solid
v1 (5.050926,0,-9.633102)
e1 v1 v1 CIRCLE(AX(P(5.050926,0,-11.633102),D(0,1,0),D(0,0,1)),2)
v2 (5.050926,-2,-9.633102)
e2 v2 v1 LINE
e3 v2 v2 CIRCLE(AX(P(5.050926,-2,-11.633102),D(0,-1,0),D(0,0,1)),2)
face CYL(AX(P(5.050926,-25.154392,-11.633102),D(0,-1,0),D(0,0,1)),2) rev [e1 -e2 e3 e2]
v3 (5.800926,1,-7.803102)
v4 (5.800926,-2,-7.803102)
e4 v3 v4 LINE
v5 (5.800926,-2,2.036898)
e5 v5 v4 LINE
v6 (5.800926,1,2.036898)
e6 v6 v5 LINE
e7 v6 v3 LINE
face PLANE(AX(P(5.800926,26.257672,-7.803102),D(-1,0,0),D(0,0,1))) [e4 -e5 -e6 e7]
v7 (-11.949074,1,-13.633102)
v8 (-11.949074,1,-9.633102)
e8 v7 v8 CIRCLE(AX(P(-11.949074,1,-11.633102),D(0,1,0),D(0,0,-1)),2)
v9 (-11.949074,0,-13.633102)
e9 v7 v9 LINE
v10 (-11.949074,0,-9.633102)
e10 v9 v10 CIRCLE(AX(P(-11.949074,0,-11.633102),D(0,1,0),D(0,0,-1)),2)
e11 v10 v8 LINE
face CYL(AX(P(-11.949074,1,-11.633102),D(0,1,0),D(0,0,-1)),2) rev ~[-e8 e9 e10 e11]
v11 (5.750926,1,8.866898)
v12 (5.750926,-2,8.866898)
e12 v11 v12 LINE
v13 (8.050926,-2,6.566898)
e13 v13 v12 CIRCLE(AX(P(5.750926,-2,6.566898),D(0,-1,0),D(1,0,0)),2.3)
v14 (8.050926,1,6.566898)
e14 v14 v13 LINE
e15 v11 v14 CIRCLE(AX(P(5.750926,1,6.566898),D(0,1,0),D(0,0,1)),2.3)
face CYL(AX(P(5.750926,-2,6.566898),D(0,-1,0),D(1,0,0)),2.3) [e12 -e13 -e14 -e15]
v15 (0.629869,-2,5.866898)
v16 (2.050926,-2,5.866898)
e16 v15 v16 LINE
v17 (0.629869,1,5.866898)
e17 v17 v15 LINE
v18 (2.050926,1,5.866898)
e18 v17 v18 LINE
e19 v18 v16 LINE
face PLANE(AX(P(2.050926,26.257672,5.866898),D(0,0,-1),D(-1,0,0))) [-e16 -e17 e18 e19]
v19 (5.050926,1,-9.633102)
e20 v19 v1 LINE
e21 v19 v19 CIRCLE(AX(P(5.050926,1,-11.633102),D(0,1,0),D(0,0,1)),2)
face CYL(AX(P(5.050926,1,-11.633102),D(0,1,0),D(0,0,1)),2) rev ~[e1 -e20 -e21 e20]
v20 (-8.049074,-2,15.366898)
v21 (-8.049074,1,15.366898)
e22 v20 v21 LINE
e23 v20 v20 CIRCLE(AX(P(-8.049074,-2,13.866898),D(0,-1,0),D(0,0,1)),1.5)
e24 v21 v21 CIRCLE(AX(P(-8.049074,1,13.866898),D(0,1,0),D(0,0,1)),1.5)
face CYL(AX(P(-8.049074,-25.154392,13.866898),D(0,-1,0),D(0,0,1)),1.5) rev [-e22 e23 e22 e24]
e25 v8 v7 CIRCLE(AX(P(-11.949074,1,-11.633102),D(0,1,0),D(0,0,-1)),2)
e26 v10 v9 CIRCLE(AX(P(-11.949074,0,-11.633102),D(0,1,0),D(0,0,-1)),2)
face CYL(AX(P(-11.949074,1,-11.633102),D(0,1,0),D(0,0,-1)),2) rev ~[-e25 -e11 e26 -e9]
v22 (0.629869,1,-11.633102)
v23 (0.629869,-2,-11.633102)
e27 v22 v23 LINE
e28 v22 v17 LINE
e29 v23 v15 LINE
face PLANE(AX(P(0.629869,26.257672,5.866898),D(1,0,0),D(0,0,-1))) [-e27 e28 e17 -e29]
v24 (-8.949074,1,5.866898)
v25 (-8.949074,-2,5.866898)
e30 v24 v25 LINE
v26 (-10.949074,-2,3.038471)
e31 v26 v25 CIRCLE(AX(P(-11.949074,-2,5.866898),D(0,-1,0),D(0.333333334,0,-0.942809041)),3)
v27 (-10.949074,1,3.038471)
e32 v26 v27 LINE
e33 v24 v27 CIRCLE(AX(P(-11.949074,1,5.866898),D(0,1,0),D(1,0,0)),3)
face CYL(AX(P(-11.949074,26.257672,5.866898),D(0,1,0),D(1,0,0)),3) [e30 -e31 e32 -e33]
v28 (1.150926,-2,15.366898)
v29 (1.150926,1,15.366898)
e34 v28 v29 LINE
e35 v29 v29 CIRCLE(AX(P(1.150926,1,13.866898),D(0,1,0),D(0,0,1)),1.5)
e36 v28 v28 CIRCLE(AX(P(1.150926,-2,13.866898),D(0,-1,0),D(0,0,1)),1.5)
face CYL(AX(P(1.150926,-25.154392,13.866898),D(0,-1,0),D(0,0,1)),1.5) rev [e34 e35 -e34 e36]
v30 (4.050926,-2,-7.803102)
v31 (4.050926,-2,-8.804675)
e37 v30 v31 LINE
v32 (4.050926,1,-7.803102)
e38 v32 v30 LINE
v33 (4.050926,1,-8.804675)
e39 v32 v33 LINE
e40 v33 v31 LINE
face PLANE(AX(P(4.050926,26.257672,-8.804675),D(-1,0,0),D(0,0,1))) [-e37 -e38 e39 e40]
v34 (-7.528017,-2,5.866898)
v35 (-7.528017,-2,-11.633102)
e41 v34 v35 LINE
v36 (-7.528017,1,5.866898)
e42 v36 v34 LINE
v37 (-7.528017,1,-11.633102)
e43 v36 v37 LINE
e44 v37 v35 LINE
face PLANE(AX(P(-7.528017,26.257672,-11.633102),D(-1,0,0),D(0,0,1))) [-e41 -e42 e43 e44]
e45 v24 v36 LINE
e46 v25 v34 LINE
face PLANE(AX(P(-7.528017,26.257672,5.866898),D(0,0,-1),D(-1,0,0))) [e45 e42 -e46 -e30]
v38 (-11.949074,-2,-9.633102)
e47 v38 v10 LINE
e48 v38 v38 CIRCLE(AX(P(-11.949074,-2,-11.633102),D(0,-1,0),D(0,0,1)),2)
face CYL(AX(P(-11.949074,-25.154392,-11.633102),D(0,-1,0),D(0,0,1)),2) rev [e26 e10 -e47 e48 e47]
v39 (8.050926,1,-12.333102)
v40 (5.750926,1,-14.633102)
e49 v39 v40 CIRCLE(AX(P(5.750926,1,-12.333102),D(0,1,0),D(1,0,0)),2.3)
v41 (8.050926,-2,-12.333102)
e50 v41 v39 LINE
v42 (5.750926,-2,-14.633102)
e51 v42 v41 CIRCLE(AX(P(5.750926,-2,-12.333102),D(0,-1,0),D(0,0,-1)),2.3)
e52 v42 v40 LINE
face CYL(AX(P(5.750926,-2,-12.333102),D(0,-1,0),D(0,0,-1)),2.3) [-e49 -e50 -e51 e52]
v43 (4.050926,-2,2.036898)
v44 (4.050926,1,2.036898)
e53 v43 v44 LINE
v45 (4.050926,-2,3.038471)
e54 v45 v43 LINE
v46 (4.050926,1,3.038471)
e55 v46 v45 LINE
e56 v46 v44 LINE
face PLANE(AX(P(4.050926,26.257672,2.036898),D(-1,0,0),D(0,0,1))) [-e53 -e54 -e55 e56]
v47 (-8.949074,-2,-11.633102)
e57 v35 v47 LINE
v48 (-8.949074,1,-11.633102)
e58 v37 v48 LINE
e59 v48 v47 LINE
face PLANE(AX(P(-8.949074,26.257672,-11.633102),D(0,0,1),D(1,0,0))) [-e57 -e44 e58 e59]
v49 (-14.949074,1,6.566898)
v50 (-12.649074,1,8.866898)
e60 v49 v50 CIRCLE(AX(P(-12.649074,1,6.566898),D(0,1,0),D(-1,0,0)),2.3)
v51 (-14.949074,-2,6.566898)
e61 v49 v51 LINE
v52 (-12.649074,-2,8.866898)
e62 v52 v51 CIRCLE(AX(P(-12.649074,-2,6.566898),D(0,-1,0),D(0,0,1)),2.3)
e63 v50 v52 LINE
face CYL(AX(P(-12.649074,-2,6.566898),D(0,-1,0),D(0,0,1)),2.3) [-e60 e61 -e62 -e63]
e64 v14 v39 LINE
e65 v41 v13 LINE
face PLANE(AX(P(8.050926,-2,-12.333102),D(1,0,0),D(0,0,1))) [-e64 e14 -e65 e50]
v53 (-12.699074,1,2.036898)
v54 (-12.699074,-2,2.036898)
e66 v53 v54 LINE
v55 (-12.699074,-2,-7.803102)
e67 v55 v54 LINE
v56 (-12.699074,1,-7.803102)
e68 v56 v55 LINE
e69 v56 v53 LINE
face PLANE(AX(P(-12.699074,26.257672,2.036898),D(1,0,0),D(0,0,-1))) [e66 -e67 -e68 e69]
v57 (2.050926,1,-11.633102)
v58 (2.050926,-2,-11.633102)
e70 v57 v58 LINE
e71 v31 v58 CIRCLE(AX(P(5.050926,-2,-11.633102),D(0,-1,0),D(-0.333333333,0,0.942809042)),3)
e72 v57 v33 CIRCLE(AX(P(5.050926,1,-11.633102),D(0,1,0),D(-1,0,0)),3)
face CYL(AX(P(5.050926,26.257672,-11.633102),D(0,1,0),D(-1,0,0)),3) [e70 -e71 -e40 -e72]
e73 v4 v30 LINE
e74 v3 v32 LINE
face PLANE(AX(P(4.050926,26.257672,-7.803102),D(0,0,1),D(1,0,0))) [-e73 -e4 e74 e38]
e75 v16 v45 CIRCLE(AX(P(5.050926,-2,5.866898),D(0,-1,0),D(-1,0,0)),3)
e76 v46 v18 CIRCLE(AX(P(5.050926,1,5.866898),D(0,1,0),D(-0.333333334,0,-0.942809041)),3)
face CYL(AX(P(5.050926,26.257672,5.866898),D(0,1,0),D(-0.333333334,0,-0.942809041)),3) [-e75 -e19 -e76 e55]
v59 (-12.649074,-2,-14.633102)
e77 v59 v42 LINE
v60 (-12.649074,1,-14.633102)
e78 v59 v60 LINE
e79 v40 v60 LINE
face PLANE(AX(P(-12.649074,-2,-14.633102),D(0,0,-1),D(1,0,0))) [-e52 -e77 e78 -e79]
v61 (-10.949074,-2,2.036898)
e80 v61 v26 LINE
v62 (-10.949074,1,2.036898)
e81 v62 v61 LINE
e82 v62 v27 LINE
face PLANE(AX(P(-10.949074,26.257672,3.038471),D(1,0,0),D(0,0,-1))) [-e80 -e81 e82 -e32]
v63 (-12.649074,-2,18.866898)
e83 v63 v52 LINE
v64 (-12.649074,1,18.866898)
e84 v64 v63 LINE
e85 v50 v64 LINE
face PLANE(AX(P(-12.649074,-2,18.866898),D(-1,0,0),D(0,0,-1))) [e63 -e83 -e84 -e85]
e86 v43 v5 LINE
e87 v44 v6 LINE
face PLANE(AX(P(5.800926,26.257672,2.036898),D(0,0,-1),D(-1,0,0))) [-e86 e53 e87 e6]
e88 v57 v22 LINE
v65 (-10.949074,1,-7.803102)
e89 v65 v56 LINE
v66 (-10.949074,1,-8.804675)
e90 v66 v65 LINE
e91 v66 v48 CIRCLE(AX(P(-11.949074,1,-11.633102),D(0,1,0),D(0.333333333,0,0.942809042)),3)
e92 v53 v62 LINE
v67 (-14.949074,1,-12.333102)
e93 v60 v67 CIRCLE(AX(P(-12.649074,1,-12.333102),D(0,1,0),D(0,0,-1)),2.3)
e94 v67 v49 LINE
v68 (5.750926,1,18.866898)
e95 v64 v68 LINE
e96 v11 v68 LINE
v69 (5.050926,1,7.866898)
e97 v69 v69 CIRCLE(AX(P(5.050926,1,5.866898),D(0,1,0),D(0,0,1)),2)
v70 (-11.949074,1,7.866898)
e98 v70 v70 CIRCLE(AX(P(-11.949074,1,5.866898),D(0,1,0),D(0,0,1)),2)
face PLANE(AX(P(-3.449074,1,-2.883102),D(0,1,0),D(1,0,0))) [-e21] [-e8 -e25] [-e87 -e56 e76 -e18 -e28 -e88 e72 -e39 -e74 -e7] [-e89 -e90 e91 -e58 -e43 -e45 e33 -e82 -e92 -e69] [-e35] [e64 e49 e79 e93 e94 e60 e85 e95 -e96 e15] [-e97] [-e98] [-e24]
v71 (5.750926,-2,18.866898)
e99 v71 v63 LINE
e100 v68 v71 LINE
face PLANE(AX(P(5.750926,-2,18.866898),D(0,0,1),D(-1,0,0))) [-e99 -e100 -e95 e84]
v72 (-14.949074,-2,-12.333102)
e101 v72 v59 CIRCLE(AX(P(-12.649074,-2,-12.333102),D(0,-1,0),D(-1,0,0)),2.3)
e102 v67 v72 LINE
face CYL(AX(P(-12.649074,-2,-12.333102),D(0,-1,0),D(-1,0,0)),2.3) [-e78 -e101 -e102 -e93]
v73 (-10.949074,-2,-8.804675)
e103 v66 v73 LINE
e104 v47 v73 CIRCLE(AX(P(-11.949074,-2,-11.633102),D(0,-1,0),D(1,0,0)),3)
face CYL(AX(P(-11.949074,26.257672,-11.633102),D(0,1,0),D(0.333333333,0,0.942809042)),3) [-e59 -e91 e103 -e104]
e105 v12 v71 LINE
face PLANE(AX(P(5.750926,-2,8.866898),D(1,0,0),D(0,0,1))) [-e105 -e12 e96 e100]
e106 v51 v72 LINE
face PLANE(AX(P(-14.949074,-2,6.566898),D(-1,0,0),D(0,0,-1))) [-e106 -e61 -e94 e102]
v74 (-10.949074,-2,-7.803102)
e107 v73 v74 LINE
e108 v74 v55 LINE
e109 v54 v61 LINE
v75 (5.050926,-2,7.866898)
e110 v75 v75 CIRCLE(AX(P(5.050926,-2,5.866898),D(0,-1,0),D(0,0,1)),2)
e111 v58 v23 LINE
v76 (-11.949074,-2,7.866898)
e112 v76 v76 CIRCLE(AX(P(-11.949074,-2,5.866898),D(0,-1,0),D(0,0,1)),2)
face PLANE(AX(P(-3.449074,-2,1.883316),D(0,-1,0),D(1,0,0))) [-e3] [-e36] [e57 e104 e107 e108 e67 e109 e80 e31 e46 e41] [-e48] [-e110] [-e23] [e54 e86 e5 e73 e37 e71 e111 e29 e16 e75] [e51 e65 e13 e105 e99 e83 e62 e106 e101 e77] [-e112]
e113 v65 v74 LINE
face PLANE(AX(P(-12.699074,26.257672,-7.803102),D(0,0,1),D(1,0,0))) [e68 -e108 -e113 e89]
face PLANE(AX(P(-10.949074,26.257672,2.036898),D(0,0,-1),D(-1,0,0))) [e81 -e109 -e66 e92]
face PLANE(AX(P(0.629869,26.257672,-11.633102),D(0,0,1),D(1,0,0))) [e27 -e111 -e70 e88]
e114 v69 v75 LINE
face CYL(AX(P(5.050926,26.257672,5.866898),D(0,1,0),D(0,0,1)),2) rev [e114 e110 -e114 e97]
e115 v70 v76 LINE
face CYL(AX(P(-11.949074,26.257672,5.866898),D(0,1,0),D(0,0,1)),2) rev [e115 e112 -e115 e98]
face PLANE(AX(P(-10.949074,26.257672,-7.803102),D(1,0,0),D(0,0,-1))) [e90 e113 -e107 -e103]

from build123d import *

# Parameters (mm, degrees)
BOSS_EXTRUDE1_DEPTH      = 2
CUT_EXTRUDE2_DEPTH       = 1
SKETCH5_R                = 2
CUT_EXTRUDE3_DEPTH       = 21.942838525
CUT_EXTRUDE4_DEPTH       = 21.942838525
SKETCH7_W                = 18.4
SKETCH7_H                = 1
BOSS_EXTRUDE2_DEPTH      = 10
SKETCH8_R                = 1.5
CUT_EXTRUDE5_DEPTH       = 25.092211634
CUT_EXTRUDE6_DEPTH       = 1
SKETCH11_W               = 1.421057218
SKETCH11_H               = 17.5
SKETCH11_W_2             = 1.75
SKETCH11_H_2             = 9.84
CUT_EXTRUDE7_DEPTH       = 25.092211634
BOSS_EXTRUDE3_START      = 2
BOSS_EXTRUDE3_DEPTH      = 2
CUT_EXTRUDE8_DEPTH       = 25.154392176
CUT_EXTRUDE8_DEPTH_BACK  = 25.154392176
CUT_EXTRUDE9_DEPTH       = 25.154392176
CUT_EXTRUDE9_DEPTH_BACK  = 25.154392176
CUT_EXTRUDE10_DEPTH      = 25.154392176
CUT_EXTRUDE10_DEPTH_BACK = 25.154392176
SKETCH15_R               = 1.5
CUT_EXTRUDE11_DEPTH      = 25.154392176
CUT_EXTRUDE11_DEPTH_BACK = 25.154392176
SKETCH16_R               = 1.5
CUT_EXTRUDE12_DEPTH      = 25.154392176
CUT_EXTRUDE12_DEPTH_BACK = 25.154392176
SKETCH17_R               = 2
BOSS_EXTRUDE4_START      = 1
BOSS_EXTRUDE4_DEPTH      = 1
CUT_EXTRUDE13_DEPTH      = 25.257672217
CUT_EXTRUDE13_DEPTH_BACK = 25.257672217
SKETCH19_R               = 2
CUT_EXTRUDE14_START      = -1
CUT_EXTRUDE14_DEPTH      = 1


with BuildPart() as part:
    # Sketch1 → Boss-Extrude1 (new body)
    with BuildSketch(Plane(origin=(0, 0, 0), x_dir=(1, 0, 0), z_dir=(0, 1, 0))):
        with BuildLine():
            Line((-12.649074074, 14.633101852), (5.750925926, 14.633101852))
            ThreePointArc((5.750925926, 14.633101852), (7.377271523, 13.959447449), (8.050925926, 12.333101852))
            Line((8.050925926, 12.333101852), (8.050925926, -6.566898148))
            ThreePointArc((8.050925926, -6.566898148), (7.377271523, -8.193243745), (5.750925926, -8.866898148))
            Line((5.750925926, -8.866898148), (-12.649074074, -8.866898148))
            ThreePointArc((-12.649074074, -8.866898148), (-14.275419671, -8.193243745), (-14.949074074, -6.566898148))
            Line((-14.949074074, -6.566898148), (-14.949074074, 12.333101852))
            ThreePointArc((-14.949074074, 12.333101852), (-14.275419671, 13.959447449), (-12.649074074, 14.633101852))
        make_face()
    extrude(amount=BOSS_EXTRUDE1_DEPTH)

    # Sketch2 → Cut-Extrude2 (cut)
    with BuildSketch(Plane(origin=(0, 2, 0), x_dir=(1, 0, 0), z_dir=(0, 1, 0))):
        with BuildLine():
            Line((5.750925926, 13.633101852), (-12.649074074, 13.633101852))
            ThreePointArc((-12.649074074, 13.633101852), (-13.56831289, 13.252340667), (-13.949074074, 12.333101852))
            Line((-13.949074074, 12.333101852), (-13.949074074, -6.566898148))
            ThreePointArc((-13.949074074, -6.566898148), (-13.56831289, -7.486136964), (-12.649074074, -7.866898148))
            Line((-12.649074074, -7.866898148), (5.750925926, -7.866898148))
            ThreePointArc((5.750925926, -7.866898148), (6.670164741, -7.486136964), (7.050925926, -6.566898148))
            Line((7.050925926, -6.566898148), (7.050925926, 12.333101852))
            ThreePointArc((7.050925926, 12.333101852), (6.670164741, 13.252340667), (5.750925926, 13.633101852))
        make_face()
    extrude(amount=-CUT_EXTRUDE2_DEPTH, mode=Mode.SUBTRACT)

    # Sketch5 → Cut-Extrude3 (cut, through all)
    with BuildSketch(Plane(origin=(0, 1, 0), x_dir=(1, 0, 0), z_dir=(0, 1, 0))):
        with Locations(Location((5.050925926, 11.633101852, 0), (0, 0, 270))):
            Circle(SKETCH5_R)
        with Locations(Location((5.050925926, -5.866898148, 0), (0, 0, 270))):
            Circle(SKETCH5_R)
        with Locations(Location((-11.949074074, -5.866898148, 0), (0, 0, 270))):
            Circle(SKETCH5_R)
        with Locations(Location((-11.949074074, 11.633101852, 0), (0, 0, 90))):
            Circle(SKETCH5_R)
    extrude(amount=-CUT_EXTRUDE3_DEPTH, mode=Mode.SUBTRACT)

    # Sketch6 → Cut-Extrude4 (cut, through all)
    with BuildSketch(Plane(origin=(0, 1, 0), x_dir=(1, 0, 0), z_dir=(0, 1, 0))):
        with BuildLine():
            Line((4.050925926, -3.038471023), (4.050925926, 8.804674727))
            ThreePointArc((4.050925926, 8.804674727), (2.601436183, 9.901051044), (2.050925926, 11.633101852))
            Line((2.050925926, 11.633101852), (2.050925926, -5.866898148))
            ThreePointArc((2.050925926, -5.866898148), (2.601436183, -4.134847341), (4.050925926, -3.038471023))
        make_face()
        with BuildLine():
            Line((-10.949074074, 8.804674727), (-10.949074074, -3.038471023))
            ThreePointArc((-10.949074074, -3.038471023), (-9.499584331, -4.134847341), (-8.949074074, -5.866898148))
            Line((-8.949074074, -5.866898148), (-8.949074074, 11.633101852))
            ThreePointArc((-8.949074074, 11.633101852), (-9.499584331, 9.901051044), (-10.949074074, 8.804674727))
        make_face()
    extrude(amount=-CUT_EXTRUDE4_DEPTH, mode=Mode.SUBTRACT)

    # Sketch7 → Boss-Extrude2 (add)
    with BuildSketch(Plane.XY.offset(8.866898148)):
        with Locations((-3.449074074, 0.5)):
            Rectangle(SKETCH7_W, SKETCH7_H)
    extrude(amount=BOSS_EXTRUDE2_DEPTH)

    # Sketch8 → Cut-Extrude5 (cut, through all)
    with BuildSketch(Plane(origin=(0, 1, 0), x_dir=(1, 0, 0), z_dir=(0, 1, 0))):
        with Locations(Location((1.150925926, -13.866898148, 0), (0, 0, 270))):
            Circle(SKETCH8_R)
        with Locations(Location((-8.049074074, -13.866898148, 0), (0, 0, 270))):
            Circle(SKETCH8_R)
    extrude(amount=-CUT_EXTRUDE5_DEPTH, mode=Mode.SUBTRACT)

    # Sketch9 → Cut-Extrude6 (cut)
    with BuildSketch(Plane(origin=(0, 2, 0), x_dir=(1, 0, 0), z_dir=(0, 1, 0))):
        with BuildLine():
            Line((5.750925926, 13.833101852), (-12.649074074, 13.833101852))
            ThreePointArc((-12.649074074, 13.833101852), (-13.709734246, 13.393762024), (-14.149074074, 12.333101852))
            Line((-14.149074074, 12.333101852), (-14.149074074, -6.566898148))
            ThreePointArc((-14.149074074, -6.566898148), (-13.709734246, -7.62755832), (-12.649074074, -8.066898148))
            Line((-12.649074074, -8.066898148), (5.750925926, -8.066898148))
            ThreePointArc((5.750925926, -8.066898148), (6.811586098, -7.62755832), (7.250925926, -6.566898148))
            Line((7.250925926, -6.566898148), (7.250925926, 12.333101852))
            ThreePointArc((7.250925926, 12.333101852), (6.811586098, 13.393762024), (5.750925926, 13.833101852))
        make_face()
    extrude(amount=-CUT_EXTRUDE6_DEPTH, mode=Mode.SUBTRACT)

    # Sketch11 → Cut-Extrude7 (cut, through all)
    with BuildSketch(Plane(origin=(0, 1, 0), x_dir=(1, 0, 0), z_dir=(0, 1, 0))):
        with Locations((-8.238545465, 2.883101852)):
            Rectangle(SKETCH11_W, SKETCH11_H)
        with Locations((1.340397317, 2.883101852)):
            Rectangle(SKETCH11_W, SKETCH11_H)
        with Locations((-11.824074074, 2.883101852)):
            Rectangle(SKETCH11_W_2, SKETCH11_H_2)
        with Locations((4.925925926, 2.883101852)):
            Rectangle(SKETCH11_W_2, SKETCH11_H_2)
    extrude(amount=-CUT_EXTRUDE7_DEPTH, mode=Mode.SUBTRACT)

    # Sketch12 → Boss-Extrude3 (add)
    with BuildSketch(Plane.XZ.offset(BOSS_EXTRUDE3_START)):
        with BuildLine():
            Line((8.050925926, -12.333101852), (8.050925926, 6.566898148))
            ThreePointArc((8.050925926, 6.566898148), (7.377271523, 8.193243745), (5.750925926, 8.866898148))
            Line((5.750925926, 8.866898148), (5.750925926, 18.866898148))
            Line((5.750925926, 18.866898148), (-12.649074074, 18.866898148))
            Line((-12.649074074, 18.866898148), (-12.649074074, 8.866898148))
            ThreePointArc((-12.649074074, 8.866898148), (-14.275419671, 8.193243745), (-14.949074074, 6.566898148))
            Line((-14.949074074, 6.566898148), (-14.949074074, -12.333101852))
            ThreePointArc((-14.949074074, -12.333101852), (-14.275419671, -13.959447449), (-12.649074074, -14.633101852))
            Line((-12.649074074, -14.633101852), (5.750925926, -14.633101852))
            ThreePointArc((5.750925926, -14.633101852), (7.377271523, -13.959447449), (8.050925926, -12.333101852))
        make_face()
    extrude(amount=-BOSS_EXTRUDE3_DEPTH)

    # Sketch13 → Cut-Extrude8 (cut, two sides: drawn at the far end of the back side and taken through both)
    with BuildSketch(Plane(origin=(0, 0, 0), x_dir=(1, 0, 0), z_dir=(0, 1, 0)).offset(-CUT_EXTRUDE8_DEPTH_BACK)):
        with BuildLine():
            Line((-12.699074074, 7.803101852), (-12.699074074, -2.036898148))
            Line((-12.699074074, -2.036898148), (-10.949074074, -2.036898148))
            Line((-10.949074074, -2.036898148), (-10.949074074, -3.038471023))
            ThreePointArc((-10.949074074, -3.038471023), (-9.499584331, -4.134847341), (-8.949074074, -5.866898148))
            Line((-8.949074074, -5.866898148), (-7.528016856, -5.866898148))
            Line((-7.528016856, -5.866898148), (-7.528016856, 11.633101852))
            Line((-7.528016856, 11.633101852), (-8.949074074, 11.633101852))
            ThreePointArc((-8.949074074, 11.633101852), (-9.499584331, 9.901051044), (-10.949074074, 8.804674727))
            Line((-10.949074074, 8.804674727), (-10.949074074, 7.803101852))
            Line((-10.949074074, 7.803101852), (-12.699074074, 7.803101852))
        make_face()
    extrude(amount=CUT_EXTRUDE8_DEPTH + CUT_EXTRUDE8_DEPTH_BACK, mode=Mode.SUBTRACT)

    # Sketch14 → Cut-Extrude9 (cut, two sides: drawn at the far end of the back side and taken through both)
    with BuildSketch(Plane(origin=(0, 0, 0), x_dir=(1, 0, 0), z_dir=(0, 1, 0)).offset(-CUT_EXTRUDE9_DEPTH_BACK)):
        with BuildLine():
            Line((0.629868708, -5.866898148), (2.050925926, -5.866898148))
            ThreePointArc((2.050925926, -5.866898148), (2.601436183, -4.134847341), (4.050925926, -3.038471023))
            Line((4.050925926, -3.038471023), (4.050925926, -2.036898148))
            Line((4.050925926, -2.036898148), (5.800925926, -2.036898148))
            Line((5.800925926, -2.036898148), (5.800925926, 7.803101852))
            Line((5.800925926, 7.803101852), (4.050925926, 7.803101852))
            Line((4.050925926, 7.803101852), (4.050925926, 8.804674727))
            ThreePointArc((4.050925926, 8.804674727), (2.601436183, 9.901051044), (2.050925926, 11.633101852))
            Line((2.050925926, 11.633101852), (0.629868708, 11.633101852))
            Line((0.629868708, 11.633101852), (0.629868708, -5.866898148))
        make_face()
    extrude(amount=CUT_EXTRUDE9_DEPTH + CUT_EXTRUDE9_DEPTH_BACK, mode=Mode.SUBTRACT)

    # Sketch15 → Cut-Extrude10 (cut, two sides: drawn at the far end of the back side and taken through both)
    with BuildSketch(Plane(origin=(0, 0, 0), x_dir=(1, 0, 0), z_dir=(0, 1, 0)).offset(-CUT_EXTRUDE10_DEPTH_BACK)):
        with Locations(Location((-8.049074074, -13.866898148, 0), (0, 0, 270))):
            Circle(SKETCH15_R)
    extrude(amount=CUT_EXTRUDE10_DEPTH + CUT_EXTRUDE10_DEPTH_BACK, mode=Mode.SUBTRACT)

    # Sketch16 → Cut-Extrude11 (cut, two sides: drawn at the far end of the back side and taken through both)
    with BuildSketch(Plane(origin=(0, 0, 0), x_dir=(1, 0, 0), z_dir=(0, 1, 0)).offset(-CUT_EXTRUDE11_DEPTH_BACK)):
        with Locations(Location((1.150925926, -13.866898148, 0), (0, 0, 270))):
            Circle(SKETCH16_R)
    extrude(amount=CUT_EXTRUDE11_DEPTH + CUT_EXTRUDE11_DEPTH_BACK, mode=Mode.SUBTRACT)

    # Sketch17 → Cut-Extrude12 (cut, two sides: drawn at the far end of the back side and taken through both)
    with BuildSketch(Plane(origin=(0, 0, 0), x_dir=(1, 0, 0), z_dir=(0, 1, 0)).offset(-CUT_EXTRUDE12_DEPTH_BACK)):
        with Locations(Location((-11.949074074, -5.866898148, 0), (0, 0, 270))):
            Circle(SKETCH17_R)
        with Locations(Location((5.050925926, -5.866898148, 0), (0, 0, 270))):
            Circle(SKETCH17_R)
        with Locations(Location((-11.949074074, 11.633101852, 0), (0, 0, 270))):
            Circle(SKETCH17_R)
        with Locations(Location((5.050925926, 11.633101852, 0), (0, 0, 270))):
            Circle(SKETCH17_R)
    extrude(amount=CUT_EXTRUDE12_DEPTH + CUT_EXTRUDE12_DEPTH_BACK, mode=Mode.SUBTRACT)

    # Sketch18 → Boss-Extrude4 (add)
    with BuildSketch(Plane(origin=(0, 1, 0), x_dir=(1, 0, 0), z_dir=(0, 1, 0)).offset(BOSS_EXTRUDE4_START)):
        with BuildLine():
            Line((5.750925926, 13.833101852), (-12.649074074, 13.833101852))
            ThreePointArc((-12.649074074, 13.833101852), (-13.709734246, 13.393762024), (-14.149074074, 12.333101852))
            Line((-14.149074074, 12.333101852), (-14.149074074, -6.566898148))
            ThreePointArc((-14.149074074, -6.566898148), (-13.709734246, -7.62755832), (-12.649074074, -8.066898148))
            Line((-12.649074074, -8.066898148), (5.750925926, -8.066898148))
            ThreePointArc((5.750925926, -8.066898148), (6.811586098, -7.62755832), (7.250925926, -6.566898148))
            Line((7.250925926, -6.566898148), (7.250925926, 12.333101852))
            ThreePointArc((7.250925926, 12.333101852), (6.811586098, 13.393762024), (5.750925926, 13.833101852))
        make_face()
    extrude(amount=-BOSS_EXTRUDE4_DEPTH)

    # Sketch19 → Cut-Extrude13 (cut, two sides: drawn at the far end of the back side and taken through both)
    with BuildSketch(Plane.XZ.offset(-1).offset(-CUT_EXTRUDE13_DEPTH_BACK)):
        with Locations(Location((5.050925926, -11.633101852, 0), (0, 0, 90))):
            Circle(SKETCH19_R)
        with Locations(Location((-11.949074074, -11.633101852, 0), (0, 0, 90))):
            Circle(SKETCH19_R)
        with Locations(Location((-11.949074074, 5.866898148, 0), (0, 0, 90))):
            Circle(SKETCH19_R)
        with Locations(Location((5.050925926, 5.866898148, 0), (0, 0, 90))):
            Circle(SKETCH19_R)
        with BuildLine():
            Line((-10.949074074, 3.038471023), (-10.949074074, 2.036898148))
            Line((-10.949074074, 2.036898148), (-12.699074074, 2.036898148))
            Line((-12.699074074, 2.036898148), (-12.699074074, -7.803101852))
            Line((-12.699074074, -7.803101852), (-10.949074074, -7.803101852))
            Line((-10.949074074, -7.803101852), (-10.949074074, -8.804674727))
            ThreePointArc((-10.949074074, -8.804674727), (-9.499584331, -9.901051044), (-8.949074074, -11.633101852))
            Line((-8.949074074, -11.633101852), (-7.528016856, -11.633101852))
            Line((-7.528016856, -11.633101852), (-7.528016856, 5.866898148))
            Line((-7.528016856, 5.866898148), (-8.949074074, 5.866898148))
            ThreePointArc((-8.949074074, 5.866898148), (-9.499584331, 4.134847341), (-10.949074074, 3.038471023))
        make_face()
        with BuildLine():
            Line((4.050925926, 2.036898148), (4.050925926, 3.038471023))
            ThreePointArc((4.050925926, 3.038471023), (2.601436183, 4.134847341), (2.050925926, 5.866898148))
            Line((2.050925926, 5.866898148), (0.629868708, 5.866898148))
            Line((0.629868708, 5.866898148), (0.629868708, -11.633101852))
            Line((0.629868708, -11.633101852), (2.050925926, -11.633101852))
            ThreePointArc((2.050925926, -11.633101852), (2.601436183, -9.901051044), (4.050925926, -8.804674727))
            Line((4.050925926, -8.804674727), (4.050925926, -7.803101852))
            Line((4.050925926, -7.803101852), (5.800925926, -7.803101852))
            Line((5.800925926, -7.803101852), (5.800925926, 2.036898148))
            Line((5.800925926, 2.036898148), (4.050925926, 2.036898148))
        make_face()
    extrude(amount=CUT_EXTRUDE13_DEPTH + CUT_EXTRUDE13_DEPTH_BACK, mode=Mode.SUBTRACT)

    # Sketch20 → Cut-Extrude14 (cut)
    with BuildSketch(Plane(origin=(0, 2, 0), x_dir=(1, 0, 0), z_dir=(0, 1, 0)).offset(CUT_EXTRUDE14_START)):
        with BuildLine():
            Line((5.750925926, 14.633101852), (-12.649074074, 14.633101852))
            ThreePointArc((-12.649074074, 14.633101852), (-14.275419671, 13.959447449), (-14.949074074, 12.333101852))
            Line((-14.949074074, 12.333101852), (-14.949074074, -6.566898148))
            ThreePointArc((-14.949074074, -6.566898148), (-14.275419671, -8.193243745), (-12.649074074, -8.866898148))
            Line((-12.649074074, -8.866898148), (5.750925926, -8.866898148))
            ThreePointArc((5.750925926, -8.866898148), (7.377271523, -8.193243745), (8.050925926, -6.566898148))
            Line((8.050925926, -6.566898148), (8.050925926, 12.333101852))
            ThreePointArc((8.050925926, 12.333101852), (7.377271523, 13.959447449), (5.750925926, 14.633101852))
        make_face()
    extrude(amount=CUT_EXTRUDE14_DEPTH, mode=Mode.SUBTRACT)


solid = part.part
